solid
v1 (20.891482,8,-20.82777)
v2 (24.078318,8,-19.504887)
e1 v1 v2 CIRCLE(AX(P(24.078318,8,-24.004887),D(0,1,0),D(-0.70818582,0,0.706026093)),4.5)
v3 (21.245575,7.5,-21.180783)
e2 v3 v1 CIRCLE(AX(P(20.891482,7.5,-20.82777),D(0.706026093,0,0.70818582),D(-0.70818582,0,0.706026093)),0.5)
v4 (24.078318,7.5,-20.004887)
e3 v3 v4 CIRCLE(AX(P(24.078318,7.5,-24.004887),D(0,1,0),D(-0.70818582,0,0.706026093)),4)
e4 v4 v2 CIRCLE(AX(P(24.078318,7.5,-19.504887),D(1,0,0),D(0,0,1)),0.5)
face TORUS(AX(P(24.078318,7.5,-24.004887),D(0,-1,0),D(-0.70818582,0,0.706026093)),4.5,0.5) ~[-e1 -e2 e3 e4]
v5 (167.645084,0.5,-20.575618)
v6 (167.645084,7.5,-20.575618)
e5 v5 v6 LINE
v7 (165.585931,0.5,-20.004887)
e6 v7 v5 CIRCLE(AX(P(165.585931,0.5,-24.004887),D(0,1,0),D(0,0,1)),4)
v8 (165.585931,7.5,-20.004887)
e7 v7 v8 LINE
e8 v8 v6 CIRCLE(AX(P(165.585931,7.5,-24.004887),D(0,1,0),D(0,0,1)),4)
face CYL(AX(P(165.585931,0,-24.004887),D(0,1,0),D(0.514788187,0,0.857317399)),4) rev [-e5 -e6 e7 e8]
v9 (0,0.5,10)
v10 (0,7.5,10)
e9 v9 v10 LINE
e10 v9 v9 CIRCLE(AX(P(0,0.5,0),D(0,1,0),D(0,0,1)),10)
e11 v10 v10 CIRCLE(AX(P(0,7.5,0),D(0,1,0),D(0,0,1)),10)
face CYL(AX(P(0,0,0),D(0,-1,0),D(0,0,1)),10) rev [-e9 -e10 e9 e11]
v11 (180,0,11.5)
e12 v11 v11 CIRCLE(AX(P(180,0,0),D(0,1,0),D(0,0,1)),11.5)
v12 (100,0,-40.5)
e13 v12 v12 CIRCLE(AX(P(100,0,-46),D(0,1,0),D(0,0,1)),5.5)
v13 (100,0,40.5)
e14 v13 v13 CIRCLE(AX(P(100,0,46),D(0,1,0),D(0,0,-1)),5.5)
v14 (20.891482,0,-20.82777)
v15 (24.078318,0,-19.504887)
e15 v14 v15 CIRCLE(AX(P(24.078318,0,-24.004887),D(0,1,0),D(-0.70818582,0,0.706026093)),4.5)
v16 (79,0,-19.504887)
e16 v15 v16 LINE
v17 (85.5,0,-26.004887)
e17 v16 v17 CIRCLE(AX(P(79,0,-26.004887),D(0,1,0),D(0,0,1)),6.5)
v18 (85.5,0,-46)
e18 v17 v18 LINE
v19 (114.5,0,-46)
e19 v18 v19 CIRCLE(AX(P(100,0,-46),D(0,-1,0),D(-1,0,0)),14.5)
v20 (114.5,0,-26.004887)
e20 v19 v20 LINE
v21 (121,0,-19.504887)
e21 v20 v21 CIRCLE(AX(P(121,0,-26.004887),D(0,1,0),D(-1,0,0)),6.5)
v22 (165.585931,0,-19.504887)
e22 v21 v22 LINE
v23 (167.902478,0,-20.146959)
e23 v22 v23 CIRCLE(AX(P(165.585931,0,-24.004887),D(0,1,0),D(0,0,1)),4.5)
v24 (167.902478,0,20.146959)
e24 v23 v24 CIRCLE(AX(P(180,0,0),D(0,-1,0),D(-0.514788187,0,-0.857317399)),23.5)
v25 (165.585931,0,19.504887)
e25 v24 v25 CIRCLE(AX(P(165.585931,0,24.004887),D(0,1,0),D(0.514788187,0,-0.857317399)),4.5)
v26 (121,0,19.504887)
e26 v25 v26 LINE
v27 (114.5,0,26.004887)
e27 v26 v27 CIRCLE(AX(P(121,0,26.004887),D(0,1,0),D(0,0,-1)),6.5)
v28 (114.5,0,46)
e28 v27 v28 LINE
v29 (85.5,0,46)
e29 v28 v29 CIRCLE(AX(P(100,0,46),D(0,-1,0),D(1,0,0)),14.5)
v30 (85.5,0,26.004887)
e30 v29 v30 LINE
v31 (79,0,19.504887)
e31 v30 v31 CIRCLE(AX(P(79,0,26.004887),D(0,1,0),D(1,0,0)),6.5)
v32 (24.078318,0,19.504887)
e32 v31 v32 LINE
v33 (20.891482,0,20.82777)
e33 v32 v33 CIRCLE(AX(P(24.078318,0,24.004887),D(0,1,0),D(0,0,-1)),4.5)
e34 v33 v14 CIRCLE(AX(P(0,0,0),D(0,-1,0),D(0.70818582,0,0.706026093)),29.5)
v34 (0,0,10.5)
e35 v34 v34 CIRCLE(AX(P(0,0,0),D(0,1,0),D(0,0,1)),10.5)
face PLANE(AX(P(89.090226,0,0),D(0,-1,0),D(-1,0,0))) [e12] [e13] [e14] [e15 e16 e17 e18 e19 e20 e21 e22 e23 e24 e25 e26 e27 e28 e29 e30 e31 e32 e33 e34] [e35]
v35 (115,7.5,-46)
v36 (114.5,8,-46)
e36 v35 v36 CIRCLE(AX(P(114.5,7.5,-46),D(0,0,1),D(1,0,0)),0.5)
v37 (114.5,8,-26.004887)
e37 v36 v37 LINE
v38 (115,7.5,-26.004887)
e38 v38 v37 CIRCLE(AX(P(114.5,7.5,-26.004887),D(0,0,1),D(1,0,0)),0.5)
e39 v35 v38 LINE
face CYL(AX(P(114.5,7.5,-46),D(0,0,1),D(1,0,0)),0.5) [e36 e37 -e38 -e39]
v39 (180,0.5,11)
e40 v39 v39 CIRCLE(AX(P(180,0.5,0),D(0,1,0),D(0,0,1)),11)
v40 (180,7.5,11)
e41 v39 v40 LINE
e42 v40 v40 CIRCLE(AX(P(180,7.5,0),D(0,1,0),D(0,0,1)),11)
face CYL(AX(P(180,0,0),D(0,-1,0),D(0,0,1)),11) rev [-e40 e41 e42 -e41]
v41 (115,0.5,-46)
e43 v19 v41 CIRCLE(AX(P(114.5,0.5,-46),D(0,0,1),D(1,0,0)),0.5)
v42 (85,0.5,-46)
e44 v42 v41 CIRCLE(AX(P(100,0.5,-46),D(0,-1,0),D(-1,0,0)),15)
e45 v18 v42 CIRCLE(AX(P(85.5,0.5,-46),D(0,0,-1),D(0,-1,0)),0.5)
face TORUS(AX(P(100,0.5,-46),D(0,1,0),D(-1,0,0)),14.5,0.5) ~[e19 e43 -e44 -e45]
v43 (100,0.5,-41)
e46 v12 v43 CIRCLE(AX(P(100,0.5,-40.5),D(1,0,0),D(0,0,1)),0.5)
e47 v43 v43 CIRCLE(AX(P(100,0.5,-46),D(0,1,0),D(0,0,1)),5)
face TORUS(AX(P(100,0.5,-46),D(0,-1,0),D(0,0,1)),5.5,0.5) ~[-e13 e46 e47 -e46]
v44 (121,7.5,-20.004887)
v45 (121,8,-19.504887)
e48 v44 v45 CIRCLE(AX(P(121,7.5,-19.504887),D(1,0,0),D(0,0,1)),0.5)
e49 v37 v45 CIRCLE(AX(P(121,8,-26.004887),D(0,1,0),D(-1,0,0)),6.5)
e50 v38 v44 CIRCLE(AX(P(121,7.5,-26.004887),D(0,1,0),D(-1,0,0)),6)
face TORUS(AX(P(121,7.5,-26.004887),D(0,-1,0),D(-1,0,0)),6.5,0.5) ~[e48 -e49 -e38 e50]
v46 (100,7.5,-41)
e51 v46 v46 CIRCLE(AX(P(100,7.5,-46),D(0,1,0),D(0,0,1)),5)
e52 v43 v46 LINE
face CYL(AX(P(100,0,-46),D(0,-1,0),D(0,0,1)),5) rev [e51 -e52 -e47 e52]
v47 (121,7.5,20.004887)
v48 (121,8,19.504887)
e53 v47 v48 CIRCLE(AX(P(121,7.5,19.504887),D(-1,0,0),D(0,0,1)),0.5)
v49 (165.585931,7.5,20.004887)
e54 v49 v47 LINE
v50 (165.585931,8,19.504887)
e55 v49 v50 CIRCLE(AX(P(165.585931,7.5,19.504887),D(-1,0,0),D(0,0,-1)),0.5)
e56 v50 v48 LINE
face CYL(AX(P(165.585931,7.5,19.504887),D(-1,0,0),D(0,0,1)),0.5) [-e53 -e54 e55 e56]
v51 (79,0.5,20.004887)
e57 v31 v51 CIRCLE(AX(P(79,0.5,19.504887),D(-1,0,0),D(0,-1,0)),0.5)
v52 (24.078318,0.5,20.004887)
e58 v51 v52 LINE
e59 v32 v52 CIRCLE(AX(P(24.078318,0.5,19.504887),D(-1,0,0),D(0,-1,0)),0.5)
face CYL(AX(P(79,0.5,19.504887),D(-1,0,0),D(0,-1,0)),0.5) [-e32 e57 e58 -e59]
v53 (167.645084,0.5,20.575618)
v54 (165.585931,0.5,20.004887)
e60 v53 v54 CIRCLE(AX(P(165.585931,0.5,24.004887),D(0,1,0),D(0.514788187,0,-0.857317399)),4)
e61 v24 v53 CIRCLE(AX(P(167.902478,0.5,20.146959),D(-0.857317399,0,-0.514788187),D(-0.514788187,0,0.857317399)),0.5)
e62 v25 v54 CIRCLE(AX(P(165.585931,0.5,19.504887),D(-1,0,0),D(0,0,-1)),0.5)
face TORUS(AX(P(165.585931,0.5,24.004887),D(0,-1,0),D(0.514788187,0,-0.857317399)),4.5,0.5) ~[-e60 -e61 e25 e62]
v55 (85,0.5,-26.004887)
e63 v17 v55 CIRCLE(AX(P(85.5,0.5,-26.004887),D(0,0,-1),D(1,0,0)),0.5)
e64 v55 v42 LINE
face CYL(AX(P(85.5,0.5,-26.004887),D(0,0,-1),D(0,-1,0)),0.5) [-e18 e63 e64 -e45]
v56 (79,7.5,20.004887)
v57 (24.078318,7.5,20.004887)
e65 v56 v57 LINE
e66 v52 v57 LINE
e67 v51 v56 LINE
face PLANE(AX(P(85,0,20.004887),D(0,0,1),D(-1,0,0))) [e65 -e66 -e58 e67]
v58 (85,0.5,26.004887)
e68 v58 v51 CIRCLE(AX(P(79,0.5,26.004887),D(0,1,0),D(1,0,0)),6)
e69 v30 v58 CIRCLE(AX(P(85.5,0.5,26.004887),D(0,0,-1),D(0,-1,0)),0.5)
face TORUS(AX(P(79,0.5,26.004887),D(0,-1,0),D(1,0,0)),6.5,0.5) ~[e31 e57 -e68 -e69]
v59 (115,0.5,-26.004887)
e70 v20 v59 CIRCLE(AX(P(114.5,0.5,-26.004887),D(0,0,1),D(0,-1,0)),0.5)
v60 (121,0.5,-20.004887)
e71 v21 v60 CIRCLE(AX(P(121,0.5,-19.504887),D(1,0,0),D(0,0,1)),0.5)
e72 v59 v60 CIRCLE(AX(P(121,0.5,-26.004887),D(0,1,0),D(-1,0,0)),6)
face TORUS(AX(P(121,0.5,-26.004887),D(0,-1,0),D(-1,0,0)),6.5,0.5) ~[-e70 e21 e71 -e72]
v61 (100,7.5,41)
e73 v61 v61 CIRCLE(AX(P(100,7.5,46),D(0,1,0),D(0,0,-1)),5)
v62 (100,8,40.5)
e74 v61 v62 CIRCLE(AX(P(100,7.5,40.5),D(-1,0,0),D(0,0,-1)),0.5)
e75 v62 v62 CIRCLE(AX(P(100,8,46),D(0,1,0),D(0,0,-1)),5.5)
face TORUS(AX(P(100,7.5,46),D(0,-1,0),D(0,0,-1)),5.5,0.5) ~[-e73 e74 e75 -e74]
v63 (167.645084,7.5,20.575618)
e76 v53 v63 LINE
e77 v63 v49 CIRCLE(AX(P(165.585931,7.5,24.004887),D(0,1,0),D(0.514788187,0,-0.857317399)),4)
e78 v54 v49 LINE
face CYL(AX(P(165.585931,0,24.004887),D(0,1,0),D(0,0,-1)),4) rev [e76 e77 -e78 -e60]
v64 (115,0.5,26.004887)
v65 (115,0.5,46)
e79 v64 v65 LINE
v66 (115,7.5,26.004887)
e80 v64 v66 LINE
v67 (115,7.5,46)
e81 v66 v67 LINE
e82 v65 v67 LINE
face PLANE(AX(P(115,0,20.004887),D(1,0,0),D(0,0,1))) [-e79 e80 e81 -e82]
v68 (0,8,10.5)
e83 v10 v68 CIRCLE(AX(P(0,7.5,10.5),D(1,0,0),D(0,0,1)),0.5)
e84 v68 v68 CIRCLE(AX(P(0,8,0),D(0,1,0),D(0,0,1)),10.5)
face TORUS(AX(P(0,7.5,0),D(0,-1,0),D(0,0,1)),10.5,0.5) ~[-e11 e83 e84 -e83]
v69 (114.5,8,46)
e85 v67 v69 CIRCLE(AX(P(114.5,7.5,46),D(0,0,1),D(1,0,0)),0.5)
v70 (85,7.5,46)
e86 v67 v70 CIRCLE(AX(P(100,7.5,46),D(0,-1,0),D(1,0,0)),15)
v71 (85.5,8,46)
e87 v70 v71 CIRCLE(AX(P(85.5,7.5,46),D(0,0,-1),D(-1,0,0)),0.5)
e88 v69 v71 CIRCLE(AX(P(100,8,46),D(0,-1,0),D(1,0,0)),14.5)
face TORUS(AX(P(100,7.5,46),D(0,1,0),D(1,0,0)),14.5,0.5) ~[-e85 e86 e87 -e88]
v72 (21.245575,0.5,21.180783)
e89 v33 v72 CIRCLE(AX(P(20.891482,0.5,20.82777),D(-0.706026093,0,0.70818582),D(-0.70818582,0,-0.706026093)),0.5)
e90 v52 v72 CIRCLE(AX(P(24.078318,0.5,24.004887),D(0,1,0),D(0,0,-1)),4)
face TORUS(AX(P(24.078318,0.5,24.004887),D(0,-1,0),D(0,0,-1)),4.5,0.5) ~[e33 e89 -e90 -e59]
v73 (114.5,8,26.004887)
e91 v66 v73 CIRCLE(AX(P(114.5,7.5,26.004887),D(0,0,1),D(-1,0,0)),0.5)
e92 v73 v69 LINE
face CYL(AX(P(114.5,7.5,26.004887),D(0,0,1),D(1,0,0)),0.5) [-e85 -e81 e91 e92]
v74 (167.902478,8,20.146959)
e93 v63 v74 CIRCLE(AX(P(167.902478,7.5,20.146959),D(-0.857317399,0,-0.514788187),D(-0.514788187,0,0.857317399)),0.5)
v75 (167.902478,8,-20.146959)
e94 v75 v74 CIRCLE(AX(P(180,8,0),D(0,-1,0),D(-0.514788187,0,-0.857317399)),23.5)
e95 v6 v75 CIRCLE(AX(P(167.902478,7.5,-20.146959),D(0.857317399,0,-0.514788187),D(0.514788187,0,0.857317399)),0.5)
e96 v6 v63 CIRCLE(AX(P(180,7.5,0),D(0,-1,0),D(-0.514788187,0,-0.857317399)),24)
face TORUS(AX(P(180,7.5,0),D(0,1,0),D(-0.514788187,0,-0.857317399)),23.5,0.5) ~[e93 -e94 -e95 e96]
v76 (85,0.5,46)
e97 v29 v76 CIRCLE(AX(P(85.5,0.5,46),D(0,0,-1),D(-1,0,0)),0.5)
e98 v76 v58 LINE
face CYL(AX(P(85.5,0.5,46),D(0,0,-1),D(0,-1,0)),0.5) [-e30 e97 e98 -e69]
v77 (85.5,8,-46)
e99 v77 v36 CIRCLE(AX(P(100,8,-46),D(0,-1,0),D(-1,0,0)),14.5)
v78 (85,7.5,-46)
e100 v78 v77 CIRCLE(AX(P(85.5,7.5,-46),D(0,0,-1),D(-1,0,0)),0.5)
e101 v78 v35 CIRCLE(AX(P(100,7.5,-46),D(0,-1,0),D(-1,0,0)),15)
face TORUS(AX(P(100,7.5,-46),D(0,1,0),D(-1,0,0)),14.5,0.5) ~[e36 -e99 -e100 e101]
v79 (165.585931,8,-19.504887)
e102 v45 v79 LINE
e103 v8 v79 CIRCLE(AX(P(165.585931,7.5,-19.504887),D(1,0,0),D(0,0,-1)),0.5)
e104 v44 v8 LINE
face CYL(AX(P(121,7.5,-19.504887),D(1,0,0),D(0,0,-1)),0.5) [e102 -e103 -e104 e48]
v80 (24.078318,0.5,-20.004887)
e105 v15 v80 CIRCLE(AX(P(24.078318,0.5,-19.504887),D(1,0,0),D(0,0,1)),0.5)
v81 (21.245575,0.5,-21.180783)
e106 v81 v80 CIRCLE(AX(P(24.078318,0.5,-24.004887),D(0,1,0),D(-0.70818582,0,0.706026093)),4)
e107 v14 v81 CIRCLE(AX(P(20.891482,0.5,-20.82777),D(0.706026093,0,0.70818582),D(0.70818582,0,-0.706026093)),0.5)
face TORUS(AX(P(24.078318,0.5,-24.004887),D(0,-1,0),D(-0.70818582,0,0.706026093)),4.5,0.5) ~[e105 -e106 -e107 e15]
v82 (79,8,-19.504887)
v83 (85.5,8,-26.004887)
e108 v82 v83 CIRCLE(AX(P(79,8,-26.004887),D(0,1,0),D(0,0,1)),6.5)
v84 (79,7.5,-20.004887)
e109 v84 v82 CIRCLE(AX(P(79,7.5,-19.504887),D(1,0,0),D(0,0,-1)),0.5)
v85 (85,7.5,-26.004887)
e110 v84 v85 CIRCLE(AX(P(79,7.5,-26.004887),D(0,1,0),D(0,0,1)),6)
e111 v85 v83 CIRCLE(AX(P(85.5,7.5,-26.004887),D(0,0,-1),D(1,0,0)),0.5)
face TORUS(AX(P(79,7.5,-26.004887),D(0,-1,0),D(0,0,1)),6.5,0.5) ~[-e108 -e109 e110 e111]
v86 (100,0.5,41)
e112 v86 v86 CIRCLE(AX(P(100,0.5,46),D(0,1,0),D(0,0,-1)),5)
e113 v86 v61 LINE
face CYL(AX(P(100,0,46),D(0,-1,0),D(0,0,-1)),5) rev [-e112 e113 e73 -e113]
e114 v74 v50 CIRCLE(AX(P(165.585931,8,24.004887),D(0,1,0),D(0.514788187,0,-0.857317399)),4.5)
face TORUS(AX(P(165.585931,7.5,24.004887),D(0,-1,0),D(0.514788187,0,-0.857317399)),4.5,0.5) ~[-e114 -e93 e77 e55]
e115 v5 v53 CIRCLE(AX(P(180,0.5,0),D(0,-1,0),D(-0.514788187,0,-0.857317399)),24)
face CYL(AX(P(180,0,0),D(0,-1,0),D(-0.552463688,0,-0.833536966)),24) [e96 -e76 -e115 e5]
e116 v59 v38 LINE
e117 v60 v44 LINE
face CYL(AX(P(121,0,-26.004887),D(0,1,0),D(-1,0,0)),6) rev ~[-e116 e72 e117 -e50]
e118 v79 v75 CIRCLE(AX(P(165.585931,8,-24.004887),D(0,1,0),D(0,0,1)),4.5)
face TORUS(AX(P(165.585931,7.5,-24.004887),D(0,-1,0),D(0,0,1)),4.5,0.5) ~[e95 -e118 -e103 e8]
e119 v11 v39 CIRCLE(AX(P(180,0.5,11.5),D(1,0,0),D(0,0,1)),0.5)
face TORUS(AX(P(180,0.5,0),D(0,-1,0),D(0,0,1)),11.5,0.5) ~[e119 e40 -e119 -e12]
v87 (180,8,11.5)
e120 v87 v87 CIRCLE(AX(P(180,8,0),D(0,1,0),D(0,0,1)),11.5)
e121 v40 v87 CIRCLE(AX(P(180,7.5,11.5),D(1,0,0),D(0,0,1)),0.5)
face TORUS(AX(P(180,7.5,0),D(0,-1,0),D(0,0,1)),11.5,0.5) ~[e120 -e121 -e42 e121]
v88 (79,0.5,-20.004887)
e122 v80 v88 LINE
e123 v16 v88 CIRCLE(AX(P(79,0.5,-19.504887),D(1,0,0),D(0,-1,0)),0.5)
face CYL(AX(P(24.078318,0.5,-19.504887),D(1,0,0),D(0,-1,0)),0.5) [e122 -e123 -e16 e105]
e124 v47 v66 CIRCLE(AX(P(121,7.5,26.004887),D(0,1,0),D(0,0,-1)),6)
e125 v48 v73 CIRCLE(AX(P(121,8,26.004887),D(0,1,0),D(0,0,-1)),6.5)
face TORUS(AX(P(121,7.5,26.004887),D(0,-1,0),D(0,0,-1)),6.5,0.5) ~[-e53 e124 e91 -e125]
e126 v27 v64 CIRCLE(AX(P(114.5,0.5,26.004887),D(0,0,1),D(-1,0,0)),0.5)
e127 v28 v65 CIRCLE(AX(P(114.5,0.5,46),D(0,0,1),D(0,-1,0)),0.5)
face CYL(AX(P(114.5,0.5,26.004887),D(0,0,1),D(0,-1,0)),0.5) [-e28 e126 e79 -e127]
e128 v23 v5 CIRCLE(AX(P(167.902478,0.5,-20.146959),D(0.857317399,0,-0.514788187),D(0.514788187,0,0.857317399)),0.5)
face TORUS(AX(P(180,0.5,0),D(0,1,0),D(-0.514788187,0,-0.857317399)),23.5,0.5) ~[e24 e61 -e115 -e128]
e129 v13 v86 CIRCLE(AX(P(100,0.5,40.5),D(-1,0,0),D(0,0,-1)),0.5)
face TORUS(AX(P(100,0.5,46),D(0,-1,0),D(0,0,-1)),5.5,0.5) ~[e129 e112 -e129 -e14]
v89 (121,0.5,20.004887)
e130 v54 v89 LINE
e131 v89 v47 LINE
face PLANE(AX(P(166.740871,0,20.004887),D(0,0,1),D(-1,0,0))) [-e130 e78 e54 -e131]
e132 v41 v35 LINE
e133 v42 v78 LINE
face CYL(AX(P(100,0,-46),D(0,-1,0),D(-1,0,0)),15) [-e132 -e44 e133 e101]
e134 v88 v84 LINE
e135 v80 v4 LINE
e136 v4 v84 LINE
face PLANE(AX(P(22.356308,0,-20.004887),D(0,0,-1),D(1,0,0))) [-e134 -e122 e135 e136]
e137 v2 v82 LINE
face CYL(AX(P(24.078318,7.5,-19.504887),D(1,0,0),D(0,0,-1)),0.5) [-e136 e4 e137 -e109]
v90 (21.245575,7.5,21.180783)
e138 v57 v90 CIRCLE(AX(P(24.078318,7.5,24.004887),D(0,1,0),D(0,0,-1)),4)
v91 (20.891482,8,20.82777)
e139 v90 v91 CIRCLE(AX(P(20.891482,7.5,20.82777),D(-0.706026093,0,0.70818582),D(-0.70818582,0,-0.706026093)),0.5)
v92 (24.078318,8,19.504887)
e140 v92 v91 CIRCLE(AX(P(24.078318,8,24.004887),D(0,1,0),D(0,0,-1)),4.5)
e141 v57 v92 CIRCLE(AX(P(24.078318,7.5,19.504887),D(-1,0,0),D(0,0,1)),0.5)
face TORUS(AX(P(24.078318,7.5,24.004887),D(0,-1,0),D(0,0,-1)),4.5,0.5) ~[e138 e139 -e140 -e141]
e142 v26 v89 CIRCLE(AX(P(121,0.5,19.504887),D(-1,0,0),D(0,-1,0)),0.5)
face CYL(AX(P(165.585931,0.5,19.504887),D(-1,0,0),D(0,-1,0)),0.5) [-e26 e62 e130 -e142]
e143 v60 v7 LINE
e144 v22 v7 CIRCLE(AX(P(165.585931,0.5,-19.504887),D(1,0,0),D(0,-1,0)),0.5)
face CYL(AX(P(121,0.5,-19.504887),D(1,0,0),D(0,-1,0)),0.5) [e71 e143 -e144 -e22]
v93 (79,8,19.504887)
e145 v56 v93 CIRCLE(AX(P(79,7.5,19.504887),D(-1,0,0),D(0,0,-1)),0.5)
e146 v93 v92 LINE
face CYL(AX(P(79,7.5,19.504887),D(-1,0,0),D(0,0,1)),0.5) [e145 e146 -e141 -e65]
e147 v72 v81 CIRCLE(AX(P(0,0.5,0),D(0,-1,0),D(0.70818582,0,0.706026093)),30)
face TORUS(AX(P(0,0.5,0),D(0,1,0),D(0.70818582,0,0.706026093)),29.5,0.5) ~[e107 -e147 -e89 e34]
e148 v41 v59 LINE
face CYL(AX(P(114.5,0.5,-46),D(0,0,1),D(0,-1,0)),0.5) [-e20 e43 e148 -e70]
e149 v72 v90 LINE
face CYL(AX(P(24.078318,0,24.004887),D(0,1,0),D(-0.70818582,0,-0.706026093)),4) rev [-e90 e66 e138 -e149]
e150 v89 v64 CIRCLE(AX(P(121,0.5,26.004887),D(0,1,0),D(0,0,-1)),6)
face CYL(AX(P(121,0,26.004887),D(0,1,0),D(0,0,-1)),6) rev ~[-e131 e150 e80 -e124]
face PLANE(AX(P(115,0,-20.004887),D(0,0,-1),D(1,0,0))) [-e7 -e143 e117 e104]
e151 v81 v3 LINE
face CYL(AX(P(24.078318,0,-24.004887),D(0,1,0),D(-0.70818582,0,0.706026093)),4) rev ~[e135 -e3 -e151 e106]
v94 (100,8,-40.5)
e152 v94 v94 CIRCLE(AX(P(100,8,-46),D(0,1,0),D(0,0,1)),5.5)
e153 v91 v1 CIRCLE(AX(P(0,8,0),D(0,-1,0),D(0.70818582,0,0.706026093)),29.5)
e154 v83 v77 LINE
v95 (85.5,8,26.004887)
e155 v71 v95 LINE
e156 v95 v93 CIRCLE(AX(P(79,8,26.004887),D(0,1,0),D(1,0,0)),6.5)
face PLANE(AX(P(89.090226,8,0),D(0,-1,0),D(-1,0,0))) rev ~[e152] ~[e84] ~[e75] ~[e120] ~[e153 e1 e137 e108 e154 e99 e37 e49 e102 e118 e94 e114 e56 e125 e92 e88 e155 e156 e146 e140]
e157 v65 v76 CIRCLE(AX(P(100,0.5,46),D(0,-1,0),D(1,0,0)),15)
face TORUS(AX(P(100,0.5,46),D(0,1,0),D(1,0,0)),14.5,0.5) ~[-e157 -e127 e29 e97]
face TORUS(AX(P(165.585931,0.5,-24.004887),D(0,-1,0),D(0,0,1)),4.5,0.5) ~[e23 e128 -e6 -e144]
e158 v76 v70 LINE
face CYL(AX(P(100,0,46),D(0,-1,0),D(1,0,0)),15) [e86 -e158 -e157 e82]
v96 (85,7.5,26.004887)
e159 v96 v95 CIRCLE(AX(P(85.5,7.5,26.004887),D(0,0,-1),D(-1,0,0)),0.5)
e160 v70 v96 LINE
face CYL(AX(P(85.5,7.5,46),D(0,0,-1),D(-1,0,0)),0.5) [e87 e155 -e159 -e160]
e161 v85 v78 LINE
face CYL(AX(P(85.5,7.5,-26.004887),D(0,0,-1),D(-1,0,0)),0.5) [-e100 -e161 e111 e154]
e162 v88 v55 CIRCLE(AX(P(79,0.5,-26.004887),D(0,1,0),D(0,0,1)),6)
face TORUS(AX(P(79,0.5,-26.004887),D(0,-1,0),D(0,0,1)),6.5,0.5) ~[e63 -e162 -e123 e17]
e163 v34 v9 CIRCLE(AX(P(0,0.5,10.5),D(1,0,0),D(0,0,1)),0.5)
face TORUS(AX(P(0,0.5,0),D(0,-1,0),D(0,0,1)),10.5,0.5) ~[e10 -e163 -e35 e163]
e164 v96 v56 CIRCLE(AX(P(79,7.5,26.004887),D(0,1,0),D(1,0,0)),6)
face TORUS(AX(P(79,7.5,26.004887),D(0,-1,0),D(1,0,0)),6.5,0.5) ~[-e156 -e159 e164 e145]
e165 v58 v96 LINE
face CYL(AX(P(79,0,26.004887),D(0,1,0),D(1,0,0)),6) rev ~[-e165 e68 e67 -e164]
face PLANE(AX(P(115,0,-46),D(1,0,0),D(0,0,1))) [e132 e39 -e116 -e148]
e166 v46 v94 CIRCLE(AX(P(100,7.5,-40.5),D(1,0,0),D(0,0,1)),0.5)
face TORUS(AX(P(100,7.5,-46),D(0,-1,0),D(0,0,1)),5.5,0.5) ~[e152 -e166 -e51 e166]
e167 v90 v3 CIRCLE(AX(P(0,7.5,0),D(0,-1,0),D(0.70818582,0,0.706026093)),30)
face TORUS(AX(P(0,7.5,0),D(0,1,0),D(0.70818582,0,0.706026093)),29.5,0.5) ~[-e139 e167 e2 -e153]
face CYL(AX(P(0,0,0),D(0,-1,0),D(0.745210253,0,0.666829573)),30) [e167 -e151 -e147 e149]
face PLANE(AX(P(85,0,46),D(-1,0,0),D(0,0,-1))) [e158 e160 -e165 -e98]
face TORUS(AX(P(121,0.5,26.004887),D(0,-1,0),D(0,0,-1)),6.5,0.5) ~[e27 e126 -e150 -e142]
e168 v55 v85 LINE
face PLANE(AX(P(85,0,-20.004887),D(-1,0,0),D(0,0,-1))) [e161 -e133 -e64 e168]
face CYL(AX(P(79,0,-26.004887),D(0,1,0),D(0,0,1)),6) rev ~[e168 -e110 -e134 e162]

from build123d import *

# Parameters (mm, degrees)
SKETCH_1_R      = 10
SKETCH_1_R_2    = 5
SKETCH_1_R_3    = 11
EXTRUDE_1_DEPTH = 8
FILLET_1_R      = 6
FILLET_2_R      = 6
FILLET_3_R      = 6
FILLET_4_R      = 6
FILLET_5_R      = 4
FILLET_6_R      = 4
FILLET_7_R      = 4
FILLET_8_R      = 4
FILLET_9_R      = 0.5


with BuildPart() as part:
    # 草图1 → 凸台-拉伸1 (new body)
    with BuildSketch(Plane(origin=(0, 0, 0), x_dir=(1, 0, 0), z_dir=(0, 1, 0))):
        with BuildLine():
            Line((22.356307591, 20.004887175), (85, 20.004887175))
            Line((85, 20.004887175), (85, 46))
            ThreePointArc((85, 46), (100, 61), (115, 46))
            Line((115, 46), (115, 20.004887175))
            Line((115, 20.004887175), (166.74087148, 20.004887175))
            ThreePointArc((166.74087148, 20.004887175), (204, 0), (166.74087148, -20.004887175))
            Line((166.74087148, -20.004887175), (115, -20.004887175))
            Line((115, -20.004887175), (115, -46))
            ThreePointArc((115, -46), (100, -61), (85, -46))
            Line((85, -46), (85, -20.004887175))
            Line((85, -20.004887175), (22.356307591, -20.004887175))
            ThreePointArc((22.356307591, -20.004887175), (-30, 0), (22.356307591, 20.004887175))
        make_face()
        with Locations(Location((0, 0, 0), (0, 0, 270))):
            Circle(SKETCH_1_R, mode=Mode.SUBTRACT)
        with Locations(Location((100, 46, 0), (0, 0, 270))):
            Circle(SKETCH_1_R_2, mode=Mode.SUBTRACT)
        with Locations(Location((180, 0, 0), (0, 0, 270))):
            Circle(SKETCH_1_R_3, mode=Mode.SUBTRACT)
        with Locations(Location((100, -46, 0), (0, 0, 90))):
            Circle(SKETCH_1_R_2, mode=Mode.SUBTRACT)
    extrude(amount=EXTRUDE_1_DEPTH)

    # 圆角1
    fillet_1_edges = [part.edges().sort_by_distance(p)[0] for p in [
        (85, 4, -20.004887175),
    ]]
    fillet(fillet_1_edges, radius=FILLET_1_R)

    # 圆角2
    fillet_2_edges = [part.edges().sort_by_distance(p)[0] for p in [
        (115, 4, -20.004887175),
    ]]
    fillet(fillet_2_edges, radius=FILLET_2_R)

    # 圆角3
    fillet_3_edges = [part.edges().sort_by_distance(p)[0] for p in [
        (115, 4, 20.004887175),
    ]]
    fillet(fillet_3_edges, radius=FILLET_3_R)

    # 圆角4
    fillet_4_edges = [part.edges().sort_by_distance(p)[0] for p in [
        (85, 4, 20.004887175),
    ]]
    fillet(fillet_4_edges, radius=FILLET_4_R)

    # 圆角5
    fillet_5_edges = [part.edges().sort_by_distance(p)[0] for p in [
        (22.356307591, 4, -20.004887175),
    ]]
    fillet(fillet_5_edges, radius=FILLET_5_R)

    # 圆角6
    fillet_6_edges = [part.edges().sort_by_distance(p)[0] for p in [
        (22.356307591, 4, 20.004887175),
    ]]
    fillet(fillet_6_edges, radius=FILLET_6_R)

    # 圆角7
    fillet_7_edges = [part.edges().sort_by_distance(p)[0] for p in [
        (166.74087148, 4, 20.004887175),
    ]]
    fillet(fillet_7_edges, radius=FILLET_7_R)

    # 圆角8
    fillet_8_edges = [part.edges().sort_by_distance(p)[0] for p in [
        (166.74087148, 4, -20.004887175),
    ]]
    fillet(fillet_8_edges, radius=FILLET_8_R)

    # 圆角9
    fillet_9_edges = [part.edges().sort_by_distance(p)[0] for p in [
        (22.544762773, 8, -20.310538958),
        (51.539158938, 0, 20.004887175),
        (51.539158938, 8, 20.004887175),
        (22.544762773, 8, 20.310538958),
        (22.544762773, 0, 20.310538958),
        (85, 0, -36.002443588),
        (100, 0, -61),
        (204, 0, 0),
        (204, 8, 0),
        (166.654322464, 8, 20.150209602),
        (166.654322464, 0, 20.150209602),
        (143.292965386, 0, -20.004887175),
        (100, 8, 61),
        (143.292965386, 8, -20.004887175),
        (166.654322464, 8, -20.150209602),
        (166.654322464, 0, -20.150209602),
        (115, 0, 36.002443588),
        (100, 0, 61),
        (115, 8, 36.002443588),
        (0, 0, -10),
        (0, 8, -10),
        (100, 8, -61),
        (100, 0, -51),
        (100, 8, -51),
        (85, 8, -36.002443588),
        (100, 0, 51),
        (100, 8, 51),
        (180, 0, -11),
        (180, 8, -11),
        (51.539158938, 0, -20.004887175),
        (51.539158938, 8, -20.004887175),
        (83.242640687, 0, -21.762246488),
        (83.242640687, 8, -21.762246488),
        (115, 0, -36.002443588),
        (115, 8, -36.002443588),
        (116.757359313, 8, -21.762246488),
        (116.757359313, 0, -21.762246488),
        (143.292965386, 0, 20.004887175),
        (143.292965386, 8, 20.004887175),
        (116.757359313, 8, 21.762246488),
        (116.757359313, 0, 21.762246488),
        (85, 0, 36.002443588),
        (85, 8, 36.002443588),
        (83.242640687, 8, 21.762246488),
        (83.242640687, 0, 21.762246488),
        (-30, 0, 0),
        (-30, 8, 0),
        (22.544762773, 0, -20.310538958),
    ]]
    fillet(fillet_9_edges, radius=FILLET_9_R)


solid = part.part
